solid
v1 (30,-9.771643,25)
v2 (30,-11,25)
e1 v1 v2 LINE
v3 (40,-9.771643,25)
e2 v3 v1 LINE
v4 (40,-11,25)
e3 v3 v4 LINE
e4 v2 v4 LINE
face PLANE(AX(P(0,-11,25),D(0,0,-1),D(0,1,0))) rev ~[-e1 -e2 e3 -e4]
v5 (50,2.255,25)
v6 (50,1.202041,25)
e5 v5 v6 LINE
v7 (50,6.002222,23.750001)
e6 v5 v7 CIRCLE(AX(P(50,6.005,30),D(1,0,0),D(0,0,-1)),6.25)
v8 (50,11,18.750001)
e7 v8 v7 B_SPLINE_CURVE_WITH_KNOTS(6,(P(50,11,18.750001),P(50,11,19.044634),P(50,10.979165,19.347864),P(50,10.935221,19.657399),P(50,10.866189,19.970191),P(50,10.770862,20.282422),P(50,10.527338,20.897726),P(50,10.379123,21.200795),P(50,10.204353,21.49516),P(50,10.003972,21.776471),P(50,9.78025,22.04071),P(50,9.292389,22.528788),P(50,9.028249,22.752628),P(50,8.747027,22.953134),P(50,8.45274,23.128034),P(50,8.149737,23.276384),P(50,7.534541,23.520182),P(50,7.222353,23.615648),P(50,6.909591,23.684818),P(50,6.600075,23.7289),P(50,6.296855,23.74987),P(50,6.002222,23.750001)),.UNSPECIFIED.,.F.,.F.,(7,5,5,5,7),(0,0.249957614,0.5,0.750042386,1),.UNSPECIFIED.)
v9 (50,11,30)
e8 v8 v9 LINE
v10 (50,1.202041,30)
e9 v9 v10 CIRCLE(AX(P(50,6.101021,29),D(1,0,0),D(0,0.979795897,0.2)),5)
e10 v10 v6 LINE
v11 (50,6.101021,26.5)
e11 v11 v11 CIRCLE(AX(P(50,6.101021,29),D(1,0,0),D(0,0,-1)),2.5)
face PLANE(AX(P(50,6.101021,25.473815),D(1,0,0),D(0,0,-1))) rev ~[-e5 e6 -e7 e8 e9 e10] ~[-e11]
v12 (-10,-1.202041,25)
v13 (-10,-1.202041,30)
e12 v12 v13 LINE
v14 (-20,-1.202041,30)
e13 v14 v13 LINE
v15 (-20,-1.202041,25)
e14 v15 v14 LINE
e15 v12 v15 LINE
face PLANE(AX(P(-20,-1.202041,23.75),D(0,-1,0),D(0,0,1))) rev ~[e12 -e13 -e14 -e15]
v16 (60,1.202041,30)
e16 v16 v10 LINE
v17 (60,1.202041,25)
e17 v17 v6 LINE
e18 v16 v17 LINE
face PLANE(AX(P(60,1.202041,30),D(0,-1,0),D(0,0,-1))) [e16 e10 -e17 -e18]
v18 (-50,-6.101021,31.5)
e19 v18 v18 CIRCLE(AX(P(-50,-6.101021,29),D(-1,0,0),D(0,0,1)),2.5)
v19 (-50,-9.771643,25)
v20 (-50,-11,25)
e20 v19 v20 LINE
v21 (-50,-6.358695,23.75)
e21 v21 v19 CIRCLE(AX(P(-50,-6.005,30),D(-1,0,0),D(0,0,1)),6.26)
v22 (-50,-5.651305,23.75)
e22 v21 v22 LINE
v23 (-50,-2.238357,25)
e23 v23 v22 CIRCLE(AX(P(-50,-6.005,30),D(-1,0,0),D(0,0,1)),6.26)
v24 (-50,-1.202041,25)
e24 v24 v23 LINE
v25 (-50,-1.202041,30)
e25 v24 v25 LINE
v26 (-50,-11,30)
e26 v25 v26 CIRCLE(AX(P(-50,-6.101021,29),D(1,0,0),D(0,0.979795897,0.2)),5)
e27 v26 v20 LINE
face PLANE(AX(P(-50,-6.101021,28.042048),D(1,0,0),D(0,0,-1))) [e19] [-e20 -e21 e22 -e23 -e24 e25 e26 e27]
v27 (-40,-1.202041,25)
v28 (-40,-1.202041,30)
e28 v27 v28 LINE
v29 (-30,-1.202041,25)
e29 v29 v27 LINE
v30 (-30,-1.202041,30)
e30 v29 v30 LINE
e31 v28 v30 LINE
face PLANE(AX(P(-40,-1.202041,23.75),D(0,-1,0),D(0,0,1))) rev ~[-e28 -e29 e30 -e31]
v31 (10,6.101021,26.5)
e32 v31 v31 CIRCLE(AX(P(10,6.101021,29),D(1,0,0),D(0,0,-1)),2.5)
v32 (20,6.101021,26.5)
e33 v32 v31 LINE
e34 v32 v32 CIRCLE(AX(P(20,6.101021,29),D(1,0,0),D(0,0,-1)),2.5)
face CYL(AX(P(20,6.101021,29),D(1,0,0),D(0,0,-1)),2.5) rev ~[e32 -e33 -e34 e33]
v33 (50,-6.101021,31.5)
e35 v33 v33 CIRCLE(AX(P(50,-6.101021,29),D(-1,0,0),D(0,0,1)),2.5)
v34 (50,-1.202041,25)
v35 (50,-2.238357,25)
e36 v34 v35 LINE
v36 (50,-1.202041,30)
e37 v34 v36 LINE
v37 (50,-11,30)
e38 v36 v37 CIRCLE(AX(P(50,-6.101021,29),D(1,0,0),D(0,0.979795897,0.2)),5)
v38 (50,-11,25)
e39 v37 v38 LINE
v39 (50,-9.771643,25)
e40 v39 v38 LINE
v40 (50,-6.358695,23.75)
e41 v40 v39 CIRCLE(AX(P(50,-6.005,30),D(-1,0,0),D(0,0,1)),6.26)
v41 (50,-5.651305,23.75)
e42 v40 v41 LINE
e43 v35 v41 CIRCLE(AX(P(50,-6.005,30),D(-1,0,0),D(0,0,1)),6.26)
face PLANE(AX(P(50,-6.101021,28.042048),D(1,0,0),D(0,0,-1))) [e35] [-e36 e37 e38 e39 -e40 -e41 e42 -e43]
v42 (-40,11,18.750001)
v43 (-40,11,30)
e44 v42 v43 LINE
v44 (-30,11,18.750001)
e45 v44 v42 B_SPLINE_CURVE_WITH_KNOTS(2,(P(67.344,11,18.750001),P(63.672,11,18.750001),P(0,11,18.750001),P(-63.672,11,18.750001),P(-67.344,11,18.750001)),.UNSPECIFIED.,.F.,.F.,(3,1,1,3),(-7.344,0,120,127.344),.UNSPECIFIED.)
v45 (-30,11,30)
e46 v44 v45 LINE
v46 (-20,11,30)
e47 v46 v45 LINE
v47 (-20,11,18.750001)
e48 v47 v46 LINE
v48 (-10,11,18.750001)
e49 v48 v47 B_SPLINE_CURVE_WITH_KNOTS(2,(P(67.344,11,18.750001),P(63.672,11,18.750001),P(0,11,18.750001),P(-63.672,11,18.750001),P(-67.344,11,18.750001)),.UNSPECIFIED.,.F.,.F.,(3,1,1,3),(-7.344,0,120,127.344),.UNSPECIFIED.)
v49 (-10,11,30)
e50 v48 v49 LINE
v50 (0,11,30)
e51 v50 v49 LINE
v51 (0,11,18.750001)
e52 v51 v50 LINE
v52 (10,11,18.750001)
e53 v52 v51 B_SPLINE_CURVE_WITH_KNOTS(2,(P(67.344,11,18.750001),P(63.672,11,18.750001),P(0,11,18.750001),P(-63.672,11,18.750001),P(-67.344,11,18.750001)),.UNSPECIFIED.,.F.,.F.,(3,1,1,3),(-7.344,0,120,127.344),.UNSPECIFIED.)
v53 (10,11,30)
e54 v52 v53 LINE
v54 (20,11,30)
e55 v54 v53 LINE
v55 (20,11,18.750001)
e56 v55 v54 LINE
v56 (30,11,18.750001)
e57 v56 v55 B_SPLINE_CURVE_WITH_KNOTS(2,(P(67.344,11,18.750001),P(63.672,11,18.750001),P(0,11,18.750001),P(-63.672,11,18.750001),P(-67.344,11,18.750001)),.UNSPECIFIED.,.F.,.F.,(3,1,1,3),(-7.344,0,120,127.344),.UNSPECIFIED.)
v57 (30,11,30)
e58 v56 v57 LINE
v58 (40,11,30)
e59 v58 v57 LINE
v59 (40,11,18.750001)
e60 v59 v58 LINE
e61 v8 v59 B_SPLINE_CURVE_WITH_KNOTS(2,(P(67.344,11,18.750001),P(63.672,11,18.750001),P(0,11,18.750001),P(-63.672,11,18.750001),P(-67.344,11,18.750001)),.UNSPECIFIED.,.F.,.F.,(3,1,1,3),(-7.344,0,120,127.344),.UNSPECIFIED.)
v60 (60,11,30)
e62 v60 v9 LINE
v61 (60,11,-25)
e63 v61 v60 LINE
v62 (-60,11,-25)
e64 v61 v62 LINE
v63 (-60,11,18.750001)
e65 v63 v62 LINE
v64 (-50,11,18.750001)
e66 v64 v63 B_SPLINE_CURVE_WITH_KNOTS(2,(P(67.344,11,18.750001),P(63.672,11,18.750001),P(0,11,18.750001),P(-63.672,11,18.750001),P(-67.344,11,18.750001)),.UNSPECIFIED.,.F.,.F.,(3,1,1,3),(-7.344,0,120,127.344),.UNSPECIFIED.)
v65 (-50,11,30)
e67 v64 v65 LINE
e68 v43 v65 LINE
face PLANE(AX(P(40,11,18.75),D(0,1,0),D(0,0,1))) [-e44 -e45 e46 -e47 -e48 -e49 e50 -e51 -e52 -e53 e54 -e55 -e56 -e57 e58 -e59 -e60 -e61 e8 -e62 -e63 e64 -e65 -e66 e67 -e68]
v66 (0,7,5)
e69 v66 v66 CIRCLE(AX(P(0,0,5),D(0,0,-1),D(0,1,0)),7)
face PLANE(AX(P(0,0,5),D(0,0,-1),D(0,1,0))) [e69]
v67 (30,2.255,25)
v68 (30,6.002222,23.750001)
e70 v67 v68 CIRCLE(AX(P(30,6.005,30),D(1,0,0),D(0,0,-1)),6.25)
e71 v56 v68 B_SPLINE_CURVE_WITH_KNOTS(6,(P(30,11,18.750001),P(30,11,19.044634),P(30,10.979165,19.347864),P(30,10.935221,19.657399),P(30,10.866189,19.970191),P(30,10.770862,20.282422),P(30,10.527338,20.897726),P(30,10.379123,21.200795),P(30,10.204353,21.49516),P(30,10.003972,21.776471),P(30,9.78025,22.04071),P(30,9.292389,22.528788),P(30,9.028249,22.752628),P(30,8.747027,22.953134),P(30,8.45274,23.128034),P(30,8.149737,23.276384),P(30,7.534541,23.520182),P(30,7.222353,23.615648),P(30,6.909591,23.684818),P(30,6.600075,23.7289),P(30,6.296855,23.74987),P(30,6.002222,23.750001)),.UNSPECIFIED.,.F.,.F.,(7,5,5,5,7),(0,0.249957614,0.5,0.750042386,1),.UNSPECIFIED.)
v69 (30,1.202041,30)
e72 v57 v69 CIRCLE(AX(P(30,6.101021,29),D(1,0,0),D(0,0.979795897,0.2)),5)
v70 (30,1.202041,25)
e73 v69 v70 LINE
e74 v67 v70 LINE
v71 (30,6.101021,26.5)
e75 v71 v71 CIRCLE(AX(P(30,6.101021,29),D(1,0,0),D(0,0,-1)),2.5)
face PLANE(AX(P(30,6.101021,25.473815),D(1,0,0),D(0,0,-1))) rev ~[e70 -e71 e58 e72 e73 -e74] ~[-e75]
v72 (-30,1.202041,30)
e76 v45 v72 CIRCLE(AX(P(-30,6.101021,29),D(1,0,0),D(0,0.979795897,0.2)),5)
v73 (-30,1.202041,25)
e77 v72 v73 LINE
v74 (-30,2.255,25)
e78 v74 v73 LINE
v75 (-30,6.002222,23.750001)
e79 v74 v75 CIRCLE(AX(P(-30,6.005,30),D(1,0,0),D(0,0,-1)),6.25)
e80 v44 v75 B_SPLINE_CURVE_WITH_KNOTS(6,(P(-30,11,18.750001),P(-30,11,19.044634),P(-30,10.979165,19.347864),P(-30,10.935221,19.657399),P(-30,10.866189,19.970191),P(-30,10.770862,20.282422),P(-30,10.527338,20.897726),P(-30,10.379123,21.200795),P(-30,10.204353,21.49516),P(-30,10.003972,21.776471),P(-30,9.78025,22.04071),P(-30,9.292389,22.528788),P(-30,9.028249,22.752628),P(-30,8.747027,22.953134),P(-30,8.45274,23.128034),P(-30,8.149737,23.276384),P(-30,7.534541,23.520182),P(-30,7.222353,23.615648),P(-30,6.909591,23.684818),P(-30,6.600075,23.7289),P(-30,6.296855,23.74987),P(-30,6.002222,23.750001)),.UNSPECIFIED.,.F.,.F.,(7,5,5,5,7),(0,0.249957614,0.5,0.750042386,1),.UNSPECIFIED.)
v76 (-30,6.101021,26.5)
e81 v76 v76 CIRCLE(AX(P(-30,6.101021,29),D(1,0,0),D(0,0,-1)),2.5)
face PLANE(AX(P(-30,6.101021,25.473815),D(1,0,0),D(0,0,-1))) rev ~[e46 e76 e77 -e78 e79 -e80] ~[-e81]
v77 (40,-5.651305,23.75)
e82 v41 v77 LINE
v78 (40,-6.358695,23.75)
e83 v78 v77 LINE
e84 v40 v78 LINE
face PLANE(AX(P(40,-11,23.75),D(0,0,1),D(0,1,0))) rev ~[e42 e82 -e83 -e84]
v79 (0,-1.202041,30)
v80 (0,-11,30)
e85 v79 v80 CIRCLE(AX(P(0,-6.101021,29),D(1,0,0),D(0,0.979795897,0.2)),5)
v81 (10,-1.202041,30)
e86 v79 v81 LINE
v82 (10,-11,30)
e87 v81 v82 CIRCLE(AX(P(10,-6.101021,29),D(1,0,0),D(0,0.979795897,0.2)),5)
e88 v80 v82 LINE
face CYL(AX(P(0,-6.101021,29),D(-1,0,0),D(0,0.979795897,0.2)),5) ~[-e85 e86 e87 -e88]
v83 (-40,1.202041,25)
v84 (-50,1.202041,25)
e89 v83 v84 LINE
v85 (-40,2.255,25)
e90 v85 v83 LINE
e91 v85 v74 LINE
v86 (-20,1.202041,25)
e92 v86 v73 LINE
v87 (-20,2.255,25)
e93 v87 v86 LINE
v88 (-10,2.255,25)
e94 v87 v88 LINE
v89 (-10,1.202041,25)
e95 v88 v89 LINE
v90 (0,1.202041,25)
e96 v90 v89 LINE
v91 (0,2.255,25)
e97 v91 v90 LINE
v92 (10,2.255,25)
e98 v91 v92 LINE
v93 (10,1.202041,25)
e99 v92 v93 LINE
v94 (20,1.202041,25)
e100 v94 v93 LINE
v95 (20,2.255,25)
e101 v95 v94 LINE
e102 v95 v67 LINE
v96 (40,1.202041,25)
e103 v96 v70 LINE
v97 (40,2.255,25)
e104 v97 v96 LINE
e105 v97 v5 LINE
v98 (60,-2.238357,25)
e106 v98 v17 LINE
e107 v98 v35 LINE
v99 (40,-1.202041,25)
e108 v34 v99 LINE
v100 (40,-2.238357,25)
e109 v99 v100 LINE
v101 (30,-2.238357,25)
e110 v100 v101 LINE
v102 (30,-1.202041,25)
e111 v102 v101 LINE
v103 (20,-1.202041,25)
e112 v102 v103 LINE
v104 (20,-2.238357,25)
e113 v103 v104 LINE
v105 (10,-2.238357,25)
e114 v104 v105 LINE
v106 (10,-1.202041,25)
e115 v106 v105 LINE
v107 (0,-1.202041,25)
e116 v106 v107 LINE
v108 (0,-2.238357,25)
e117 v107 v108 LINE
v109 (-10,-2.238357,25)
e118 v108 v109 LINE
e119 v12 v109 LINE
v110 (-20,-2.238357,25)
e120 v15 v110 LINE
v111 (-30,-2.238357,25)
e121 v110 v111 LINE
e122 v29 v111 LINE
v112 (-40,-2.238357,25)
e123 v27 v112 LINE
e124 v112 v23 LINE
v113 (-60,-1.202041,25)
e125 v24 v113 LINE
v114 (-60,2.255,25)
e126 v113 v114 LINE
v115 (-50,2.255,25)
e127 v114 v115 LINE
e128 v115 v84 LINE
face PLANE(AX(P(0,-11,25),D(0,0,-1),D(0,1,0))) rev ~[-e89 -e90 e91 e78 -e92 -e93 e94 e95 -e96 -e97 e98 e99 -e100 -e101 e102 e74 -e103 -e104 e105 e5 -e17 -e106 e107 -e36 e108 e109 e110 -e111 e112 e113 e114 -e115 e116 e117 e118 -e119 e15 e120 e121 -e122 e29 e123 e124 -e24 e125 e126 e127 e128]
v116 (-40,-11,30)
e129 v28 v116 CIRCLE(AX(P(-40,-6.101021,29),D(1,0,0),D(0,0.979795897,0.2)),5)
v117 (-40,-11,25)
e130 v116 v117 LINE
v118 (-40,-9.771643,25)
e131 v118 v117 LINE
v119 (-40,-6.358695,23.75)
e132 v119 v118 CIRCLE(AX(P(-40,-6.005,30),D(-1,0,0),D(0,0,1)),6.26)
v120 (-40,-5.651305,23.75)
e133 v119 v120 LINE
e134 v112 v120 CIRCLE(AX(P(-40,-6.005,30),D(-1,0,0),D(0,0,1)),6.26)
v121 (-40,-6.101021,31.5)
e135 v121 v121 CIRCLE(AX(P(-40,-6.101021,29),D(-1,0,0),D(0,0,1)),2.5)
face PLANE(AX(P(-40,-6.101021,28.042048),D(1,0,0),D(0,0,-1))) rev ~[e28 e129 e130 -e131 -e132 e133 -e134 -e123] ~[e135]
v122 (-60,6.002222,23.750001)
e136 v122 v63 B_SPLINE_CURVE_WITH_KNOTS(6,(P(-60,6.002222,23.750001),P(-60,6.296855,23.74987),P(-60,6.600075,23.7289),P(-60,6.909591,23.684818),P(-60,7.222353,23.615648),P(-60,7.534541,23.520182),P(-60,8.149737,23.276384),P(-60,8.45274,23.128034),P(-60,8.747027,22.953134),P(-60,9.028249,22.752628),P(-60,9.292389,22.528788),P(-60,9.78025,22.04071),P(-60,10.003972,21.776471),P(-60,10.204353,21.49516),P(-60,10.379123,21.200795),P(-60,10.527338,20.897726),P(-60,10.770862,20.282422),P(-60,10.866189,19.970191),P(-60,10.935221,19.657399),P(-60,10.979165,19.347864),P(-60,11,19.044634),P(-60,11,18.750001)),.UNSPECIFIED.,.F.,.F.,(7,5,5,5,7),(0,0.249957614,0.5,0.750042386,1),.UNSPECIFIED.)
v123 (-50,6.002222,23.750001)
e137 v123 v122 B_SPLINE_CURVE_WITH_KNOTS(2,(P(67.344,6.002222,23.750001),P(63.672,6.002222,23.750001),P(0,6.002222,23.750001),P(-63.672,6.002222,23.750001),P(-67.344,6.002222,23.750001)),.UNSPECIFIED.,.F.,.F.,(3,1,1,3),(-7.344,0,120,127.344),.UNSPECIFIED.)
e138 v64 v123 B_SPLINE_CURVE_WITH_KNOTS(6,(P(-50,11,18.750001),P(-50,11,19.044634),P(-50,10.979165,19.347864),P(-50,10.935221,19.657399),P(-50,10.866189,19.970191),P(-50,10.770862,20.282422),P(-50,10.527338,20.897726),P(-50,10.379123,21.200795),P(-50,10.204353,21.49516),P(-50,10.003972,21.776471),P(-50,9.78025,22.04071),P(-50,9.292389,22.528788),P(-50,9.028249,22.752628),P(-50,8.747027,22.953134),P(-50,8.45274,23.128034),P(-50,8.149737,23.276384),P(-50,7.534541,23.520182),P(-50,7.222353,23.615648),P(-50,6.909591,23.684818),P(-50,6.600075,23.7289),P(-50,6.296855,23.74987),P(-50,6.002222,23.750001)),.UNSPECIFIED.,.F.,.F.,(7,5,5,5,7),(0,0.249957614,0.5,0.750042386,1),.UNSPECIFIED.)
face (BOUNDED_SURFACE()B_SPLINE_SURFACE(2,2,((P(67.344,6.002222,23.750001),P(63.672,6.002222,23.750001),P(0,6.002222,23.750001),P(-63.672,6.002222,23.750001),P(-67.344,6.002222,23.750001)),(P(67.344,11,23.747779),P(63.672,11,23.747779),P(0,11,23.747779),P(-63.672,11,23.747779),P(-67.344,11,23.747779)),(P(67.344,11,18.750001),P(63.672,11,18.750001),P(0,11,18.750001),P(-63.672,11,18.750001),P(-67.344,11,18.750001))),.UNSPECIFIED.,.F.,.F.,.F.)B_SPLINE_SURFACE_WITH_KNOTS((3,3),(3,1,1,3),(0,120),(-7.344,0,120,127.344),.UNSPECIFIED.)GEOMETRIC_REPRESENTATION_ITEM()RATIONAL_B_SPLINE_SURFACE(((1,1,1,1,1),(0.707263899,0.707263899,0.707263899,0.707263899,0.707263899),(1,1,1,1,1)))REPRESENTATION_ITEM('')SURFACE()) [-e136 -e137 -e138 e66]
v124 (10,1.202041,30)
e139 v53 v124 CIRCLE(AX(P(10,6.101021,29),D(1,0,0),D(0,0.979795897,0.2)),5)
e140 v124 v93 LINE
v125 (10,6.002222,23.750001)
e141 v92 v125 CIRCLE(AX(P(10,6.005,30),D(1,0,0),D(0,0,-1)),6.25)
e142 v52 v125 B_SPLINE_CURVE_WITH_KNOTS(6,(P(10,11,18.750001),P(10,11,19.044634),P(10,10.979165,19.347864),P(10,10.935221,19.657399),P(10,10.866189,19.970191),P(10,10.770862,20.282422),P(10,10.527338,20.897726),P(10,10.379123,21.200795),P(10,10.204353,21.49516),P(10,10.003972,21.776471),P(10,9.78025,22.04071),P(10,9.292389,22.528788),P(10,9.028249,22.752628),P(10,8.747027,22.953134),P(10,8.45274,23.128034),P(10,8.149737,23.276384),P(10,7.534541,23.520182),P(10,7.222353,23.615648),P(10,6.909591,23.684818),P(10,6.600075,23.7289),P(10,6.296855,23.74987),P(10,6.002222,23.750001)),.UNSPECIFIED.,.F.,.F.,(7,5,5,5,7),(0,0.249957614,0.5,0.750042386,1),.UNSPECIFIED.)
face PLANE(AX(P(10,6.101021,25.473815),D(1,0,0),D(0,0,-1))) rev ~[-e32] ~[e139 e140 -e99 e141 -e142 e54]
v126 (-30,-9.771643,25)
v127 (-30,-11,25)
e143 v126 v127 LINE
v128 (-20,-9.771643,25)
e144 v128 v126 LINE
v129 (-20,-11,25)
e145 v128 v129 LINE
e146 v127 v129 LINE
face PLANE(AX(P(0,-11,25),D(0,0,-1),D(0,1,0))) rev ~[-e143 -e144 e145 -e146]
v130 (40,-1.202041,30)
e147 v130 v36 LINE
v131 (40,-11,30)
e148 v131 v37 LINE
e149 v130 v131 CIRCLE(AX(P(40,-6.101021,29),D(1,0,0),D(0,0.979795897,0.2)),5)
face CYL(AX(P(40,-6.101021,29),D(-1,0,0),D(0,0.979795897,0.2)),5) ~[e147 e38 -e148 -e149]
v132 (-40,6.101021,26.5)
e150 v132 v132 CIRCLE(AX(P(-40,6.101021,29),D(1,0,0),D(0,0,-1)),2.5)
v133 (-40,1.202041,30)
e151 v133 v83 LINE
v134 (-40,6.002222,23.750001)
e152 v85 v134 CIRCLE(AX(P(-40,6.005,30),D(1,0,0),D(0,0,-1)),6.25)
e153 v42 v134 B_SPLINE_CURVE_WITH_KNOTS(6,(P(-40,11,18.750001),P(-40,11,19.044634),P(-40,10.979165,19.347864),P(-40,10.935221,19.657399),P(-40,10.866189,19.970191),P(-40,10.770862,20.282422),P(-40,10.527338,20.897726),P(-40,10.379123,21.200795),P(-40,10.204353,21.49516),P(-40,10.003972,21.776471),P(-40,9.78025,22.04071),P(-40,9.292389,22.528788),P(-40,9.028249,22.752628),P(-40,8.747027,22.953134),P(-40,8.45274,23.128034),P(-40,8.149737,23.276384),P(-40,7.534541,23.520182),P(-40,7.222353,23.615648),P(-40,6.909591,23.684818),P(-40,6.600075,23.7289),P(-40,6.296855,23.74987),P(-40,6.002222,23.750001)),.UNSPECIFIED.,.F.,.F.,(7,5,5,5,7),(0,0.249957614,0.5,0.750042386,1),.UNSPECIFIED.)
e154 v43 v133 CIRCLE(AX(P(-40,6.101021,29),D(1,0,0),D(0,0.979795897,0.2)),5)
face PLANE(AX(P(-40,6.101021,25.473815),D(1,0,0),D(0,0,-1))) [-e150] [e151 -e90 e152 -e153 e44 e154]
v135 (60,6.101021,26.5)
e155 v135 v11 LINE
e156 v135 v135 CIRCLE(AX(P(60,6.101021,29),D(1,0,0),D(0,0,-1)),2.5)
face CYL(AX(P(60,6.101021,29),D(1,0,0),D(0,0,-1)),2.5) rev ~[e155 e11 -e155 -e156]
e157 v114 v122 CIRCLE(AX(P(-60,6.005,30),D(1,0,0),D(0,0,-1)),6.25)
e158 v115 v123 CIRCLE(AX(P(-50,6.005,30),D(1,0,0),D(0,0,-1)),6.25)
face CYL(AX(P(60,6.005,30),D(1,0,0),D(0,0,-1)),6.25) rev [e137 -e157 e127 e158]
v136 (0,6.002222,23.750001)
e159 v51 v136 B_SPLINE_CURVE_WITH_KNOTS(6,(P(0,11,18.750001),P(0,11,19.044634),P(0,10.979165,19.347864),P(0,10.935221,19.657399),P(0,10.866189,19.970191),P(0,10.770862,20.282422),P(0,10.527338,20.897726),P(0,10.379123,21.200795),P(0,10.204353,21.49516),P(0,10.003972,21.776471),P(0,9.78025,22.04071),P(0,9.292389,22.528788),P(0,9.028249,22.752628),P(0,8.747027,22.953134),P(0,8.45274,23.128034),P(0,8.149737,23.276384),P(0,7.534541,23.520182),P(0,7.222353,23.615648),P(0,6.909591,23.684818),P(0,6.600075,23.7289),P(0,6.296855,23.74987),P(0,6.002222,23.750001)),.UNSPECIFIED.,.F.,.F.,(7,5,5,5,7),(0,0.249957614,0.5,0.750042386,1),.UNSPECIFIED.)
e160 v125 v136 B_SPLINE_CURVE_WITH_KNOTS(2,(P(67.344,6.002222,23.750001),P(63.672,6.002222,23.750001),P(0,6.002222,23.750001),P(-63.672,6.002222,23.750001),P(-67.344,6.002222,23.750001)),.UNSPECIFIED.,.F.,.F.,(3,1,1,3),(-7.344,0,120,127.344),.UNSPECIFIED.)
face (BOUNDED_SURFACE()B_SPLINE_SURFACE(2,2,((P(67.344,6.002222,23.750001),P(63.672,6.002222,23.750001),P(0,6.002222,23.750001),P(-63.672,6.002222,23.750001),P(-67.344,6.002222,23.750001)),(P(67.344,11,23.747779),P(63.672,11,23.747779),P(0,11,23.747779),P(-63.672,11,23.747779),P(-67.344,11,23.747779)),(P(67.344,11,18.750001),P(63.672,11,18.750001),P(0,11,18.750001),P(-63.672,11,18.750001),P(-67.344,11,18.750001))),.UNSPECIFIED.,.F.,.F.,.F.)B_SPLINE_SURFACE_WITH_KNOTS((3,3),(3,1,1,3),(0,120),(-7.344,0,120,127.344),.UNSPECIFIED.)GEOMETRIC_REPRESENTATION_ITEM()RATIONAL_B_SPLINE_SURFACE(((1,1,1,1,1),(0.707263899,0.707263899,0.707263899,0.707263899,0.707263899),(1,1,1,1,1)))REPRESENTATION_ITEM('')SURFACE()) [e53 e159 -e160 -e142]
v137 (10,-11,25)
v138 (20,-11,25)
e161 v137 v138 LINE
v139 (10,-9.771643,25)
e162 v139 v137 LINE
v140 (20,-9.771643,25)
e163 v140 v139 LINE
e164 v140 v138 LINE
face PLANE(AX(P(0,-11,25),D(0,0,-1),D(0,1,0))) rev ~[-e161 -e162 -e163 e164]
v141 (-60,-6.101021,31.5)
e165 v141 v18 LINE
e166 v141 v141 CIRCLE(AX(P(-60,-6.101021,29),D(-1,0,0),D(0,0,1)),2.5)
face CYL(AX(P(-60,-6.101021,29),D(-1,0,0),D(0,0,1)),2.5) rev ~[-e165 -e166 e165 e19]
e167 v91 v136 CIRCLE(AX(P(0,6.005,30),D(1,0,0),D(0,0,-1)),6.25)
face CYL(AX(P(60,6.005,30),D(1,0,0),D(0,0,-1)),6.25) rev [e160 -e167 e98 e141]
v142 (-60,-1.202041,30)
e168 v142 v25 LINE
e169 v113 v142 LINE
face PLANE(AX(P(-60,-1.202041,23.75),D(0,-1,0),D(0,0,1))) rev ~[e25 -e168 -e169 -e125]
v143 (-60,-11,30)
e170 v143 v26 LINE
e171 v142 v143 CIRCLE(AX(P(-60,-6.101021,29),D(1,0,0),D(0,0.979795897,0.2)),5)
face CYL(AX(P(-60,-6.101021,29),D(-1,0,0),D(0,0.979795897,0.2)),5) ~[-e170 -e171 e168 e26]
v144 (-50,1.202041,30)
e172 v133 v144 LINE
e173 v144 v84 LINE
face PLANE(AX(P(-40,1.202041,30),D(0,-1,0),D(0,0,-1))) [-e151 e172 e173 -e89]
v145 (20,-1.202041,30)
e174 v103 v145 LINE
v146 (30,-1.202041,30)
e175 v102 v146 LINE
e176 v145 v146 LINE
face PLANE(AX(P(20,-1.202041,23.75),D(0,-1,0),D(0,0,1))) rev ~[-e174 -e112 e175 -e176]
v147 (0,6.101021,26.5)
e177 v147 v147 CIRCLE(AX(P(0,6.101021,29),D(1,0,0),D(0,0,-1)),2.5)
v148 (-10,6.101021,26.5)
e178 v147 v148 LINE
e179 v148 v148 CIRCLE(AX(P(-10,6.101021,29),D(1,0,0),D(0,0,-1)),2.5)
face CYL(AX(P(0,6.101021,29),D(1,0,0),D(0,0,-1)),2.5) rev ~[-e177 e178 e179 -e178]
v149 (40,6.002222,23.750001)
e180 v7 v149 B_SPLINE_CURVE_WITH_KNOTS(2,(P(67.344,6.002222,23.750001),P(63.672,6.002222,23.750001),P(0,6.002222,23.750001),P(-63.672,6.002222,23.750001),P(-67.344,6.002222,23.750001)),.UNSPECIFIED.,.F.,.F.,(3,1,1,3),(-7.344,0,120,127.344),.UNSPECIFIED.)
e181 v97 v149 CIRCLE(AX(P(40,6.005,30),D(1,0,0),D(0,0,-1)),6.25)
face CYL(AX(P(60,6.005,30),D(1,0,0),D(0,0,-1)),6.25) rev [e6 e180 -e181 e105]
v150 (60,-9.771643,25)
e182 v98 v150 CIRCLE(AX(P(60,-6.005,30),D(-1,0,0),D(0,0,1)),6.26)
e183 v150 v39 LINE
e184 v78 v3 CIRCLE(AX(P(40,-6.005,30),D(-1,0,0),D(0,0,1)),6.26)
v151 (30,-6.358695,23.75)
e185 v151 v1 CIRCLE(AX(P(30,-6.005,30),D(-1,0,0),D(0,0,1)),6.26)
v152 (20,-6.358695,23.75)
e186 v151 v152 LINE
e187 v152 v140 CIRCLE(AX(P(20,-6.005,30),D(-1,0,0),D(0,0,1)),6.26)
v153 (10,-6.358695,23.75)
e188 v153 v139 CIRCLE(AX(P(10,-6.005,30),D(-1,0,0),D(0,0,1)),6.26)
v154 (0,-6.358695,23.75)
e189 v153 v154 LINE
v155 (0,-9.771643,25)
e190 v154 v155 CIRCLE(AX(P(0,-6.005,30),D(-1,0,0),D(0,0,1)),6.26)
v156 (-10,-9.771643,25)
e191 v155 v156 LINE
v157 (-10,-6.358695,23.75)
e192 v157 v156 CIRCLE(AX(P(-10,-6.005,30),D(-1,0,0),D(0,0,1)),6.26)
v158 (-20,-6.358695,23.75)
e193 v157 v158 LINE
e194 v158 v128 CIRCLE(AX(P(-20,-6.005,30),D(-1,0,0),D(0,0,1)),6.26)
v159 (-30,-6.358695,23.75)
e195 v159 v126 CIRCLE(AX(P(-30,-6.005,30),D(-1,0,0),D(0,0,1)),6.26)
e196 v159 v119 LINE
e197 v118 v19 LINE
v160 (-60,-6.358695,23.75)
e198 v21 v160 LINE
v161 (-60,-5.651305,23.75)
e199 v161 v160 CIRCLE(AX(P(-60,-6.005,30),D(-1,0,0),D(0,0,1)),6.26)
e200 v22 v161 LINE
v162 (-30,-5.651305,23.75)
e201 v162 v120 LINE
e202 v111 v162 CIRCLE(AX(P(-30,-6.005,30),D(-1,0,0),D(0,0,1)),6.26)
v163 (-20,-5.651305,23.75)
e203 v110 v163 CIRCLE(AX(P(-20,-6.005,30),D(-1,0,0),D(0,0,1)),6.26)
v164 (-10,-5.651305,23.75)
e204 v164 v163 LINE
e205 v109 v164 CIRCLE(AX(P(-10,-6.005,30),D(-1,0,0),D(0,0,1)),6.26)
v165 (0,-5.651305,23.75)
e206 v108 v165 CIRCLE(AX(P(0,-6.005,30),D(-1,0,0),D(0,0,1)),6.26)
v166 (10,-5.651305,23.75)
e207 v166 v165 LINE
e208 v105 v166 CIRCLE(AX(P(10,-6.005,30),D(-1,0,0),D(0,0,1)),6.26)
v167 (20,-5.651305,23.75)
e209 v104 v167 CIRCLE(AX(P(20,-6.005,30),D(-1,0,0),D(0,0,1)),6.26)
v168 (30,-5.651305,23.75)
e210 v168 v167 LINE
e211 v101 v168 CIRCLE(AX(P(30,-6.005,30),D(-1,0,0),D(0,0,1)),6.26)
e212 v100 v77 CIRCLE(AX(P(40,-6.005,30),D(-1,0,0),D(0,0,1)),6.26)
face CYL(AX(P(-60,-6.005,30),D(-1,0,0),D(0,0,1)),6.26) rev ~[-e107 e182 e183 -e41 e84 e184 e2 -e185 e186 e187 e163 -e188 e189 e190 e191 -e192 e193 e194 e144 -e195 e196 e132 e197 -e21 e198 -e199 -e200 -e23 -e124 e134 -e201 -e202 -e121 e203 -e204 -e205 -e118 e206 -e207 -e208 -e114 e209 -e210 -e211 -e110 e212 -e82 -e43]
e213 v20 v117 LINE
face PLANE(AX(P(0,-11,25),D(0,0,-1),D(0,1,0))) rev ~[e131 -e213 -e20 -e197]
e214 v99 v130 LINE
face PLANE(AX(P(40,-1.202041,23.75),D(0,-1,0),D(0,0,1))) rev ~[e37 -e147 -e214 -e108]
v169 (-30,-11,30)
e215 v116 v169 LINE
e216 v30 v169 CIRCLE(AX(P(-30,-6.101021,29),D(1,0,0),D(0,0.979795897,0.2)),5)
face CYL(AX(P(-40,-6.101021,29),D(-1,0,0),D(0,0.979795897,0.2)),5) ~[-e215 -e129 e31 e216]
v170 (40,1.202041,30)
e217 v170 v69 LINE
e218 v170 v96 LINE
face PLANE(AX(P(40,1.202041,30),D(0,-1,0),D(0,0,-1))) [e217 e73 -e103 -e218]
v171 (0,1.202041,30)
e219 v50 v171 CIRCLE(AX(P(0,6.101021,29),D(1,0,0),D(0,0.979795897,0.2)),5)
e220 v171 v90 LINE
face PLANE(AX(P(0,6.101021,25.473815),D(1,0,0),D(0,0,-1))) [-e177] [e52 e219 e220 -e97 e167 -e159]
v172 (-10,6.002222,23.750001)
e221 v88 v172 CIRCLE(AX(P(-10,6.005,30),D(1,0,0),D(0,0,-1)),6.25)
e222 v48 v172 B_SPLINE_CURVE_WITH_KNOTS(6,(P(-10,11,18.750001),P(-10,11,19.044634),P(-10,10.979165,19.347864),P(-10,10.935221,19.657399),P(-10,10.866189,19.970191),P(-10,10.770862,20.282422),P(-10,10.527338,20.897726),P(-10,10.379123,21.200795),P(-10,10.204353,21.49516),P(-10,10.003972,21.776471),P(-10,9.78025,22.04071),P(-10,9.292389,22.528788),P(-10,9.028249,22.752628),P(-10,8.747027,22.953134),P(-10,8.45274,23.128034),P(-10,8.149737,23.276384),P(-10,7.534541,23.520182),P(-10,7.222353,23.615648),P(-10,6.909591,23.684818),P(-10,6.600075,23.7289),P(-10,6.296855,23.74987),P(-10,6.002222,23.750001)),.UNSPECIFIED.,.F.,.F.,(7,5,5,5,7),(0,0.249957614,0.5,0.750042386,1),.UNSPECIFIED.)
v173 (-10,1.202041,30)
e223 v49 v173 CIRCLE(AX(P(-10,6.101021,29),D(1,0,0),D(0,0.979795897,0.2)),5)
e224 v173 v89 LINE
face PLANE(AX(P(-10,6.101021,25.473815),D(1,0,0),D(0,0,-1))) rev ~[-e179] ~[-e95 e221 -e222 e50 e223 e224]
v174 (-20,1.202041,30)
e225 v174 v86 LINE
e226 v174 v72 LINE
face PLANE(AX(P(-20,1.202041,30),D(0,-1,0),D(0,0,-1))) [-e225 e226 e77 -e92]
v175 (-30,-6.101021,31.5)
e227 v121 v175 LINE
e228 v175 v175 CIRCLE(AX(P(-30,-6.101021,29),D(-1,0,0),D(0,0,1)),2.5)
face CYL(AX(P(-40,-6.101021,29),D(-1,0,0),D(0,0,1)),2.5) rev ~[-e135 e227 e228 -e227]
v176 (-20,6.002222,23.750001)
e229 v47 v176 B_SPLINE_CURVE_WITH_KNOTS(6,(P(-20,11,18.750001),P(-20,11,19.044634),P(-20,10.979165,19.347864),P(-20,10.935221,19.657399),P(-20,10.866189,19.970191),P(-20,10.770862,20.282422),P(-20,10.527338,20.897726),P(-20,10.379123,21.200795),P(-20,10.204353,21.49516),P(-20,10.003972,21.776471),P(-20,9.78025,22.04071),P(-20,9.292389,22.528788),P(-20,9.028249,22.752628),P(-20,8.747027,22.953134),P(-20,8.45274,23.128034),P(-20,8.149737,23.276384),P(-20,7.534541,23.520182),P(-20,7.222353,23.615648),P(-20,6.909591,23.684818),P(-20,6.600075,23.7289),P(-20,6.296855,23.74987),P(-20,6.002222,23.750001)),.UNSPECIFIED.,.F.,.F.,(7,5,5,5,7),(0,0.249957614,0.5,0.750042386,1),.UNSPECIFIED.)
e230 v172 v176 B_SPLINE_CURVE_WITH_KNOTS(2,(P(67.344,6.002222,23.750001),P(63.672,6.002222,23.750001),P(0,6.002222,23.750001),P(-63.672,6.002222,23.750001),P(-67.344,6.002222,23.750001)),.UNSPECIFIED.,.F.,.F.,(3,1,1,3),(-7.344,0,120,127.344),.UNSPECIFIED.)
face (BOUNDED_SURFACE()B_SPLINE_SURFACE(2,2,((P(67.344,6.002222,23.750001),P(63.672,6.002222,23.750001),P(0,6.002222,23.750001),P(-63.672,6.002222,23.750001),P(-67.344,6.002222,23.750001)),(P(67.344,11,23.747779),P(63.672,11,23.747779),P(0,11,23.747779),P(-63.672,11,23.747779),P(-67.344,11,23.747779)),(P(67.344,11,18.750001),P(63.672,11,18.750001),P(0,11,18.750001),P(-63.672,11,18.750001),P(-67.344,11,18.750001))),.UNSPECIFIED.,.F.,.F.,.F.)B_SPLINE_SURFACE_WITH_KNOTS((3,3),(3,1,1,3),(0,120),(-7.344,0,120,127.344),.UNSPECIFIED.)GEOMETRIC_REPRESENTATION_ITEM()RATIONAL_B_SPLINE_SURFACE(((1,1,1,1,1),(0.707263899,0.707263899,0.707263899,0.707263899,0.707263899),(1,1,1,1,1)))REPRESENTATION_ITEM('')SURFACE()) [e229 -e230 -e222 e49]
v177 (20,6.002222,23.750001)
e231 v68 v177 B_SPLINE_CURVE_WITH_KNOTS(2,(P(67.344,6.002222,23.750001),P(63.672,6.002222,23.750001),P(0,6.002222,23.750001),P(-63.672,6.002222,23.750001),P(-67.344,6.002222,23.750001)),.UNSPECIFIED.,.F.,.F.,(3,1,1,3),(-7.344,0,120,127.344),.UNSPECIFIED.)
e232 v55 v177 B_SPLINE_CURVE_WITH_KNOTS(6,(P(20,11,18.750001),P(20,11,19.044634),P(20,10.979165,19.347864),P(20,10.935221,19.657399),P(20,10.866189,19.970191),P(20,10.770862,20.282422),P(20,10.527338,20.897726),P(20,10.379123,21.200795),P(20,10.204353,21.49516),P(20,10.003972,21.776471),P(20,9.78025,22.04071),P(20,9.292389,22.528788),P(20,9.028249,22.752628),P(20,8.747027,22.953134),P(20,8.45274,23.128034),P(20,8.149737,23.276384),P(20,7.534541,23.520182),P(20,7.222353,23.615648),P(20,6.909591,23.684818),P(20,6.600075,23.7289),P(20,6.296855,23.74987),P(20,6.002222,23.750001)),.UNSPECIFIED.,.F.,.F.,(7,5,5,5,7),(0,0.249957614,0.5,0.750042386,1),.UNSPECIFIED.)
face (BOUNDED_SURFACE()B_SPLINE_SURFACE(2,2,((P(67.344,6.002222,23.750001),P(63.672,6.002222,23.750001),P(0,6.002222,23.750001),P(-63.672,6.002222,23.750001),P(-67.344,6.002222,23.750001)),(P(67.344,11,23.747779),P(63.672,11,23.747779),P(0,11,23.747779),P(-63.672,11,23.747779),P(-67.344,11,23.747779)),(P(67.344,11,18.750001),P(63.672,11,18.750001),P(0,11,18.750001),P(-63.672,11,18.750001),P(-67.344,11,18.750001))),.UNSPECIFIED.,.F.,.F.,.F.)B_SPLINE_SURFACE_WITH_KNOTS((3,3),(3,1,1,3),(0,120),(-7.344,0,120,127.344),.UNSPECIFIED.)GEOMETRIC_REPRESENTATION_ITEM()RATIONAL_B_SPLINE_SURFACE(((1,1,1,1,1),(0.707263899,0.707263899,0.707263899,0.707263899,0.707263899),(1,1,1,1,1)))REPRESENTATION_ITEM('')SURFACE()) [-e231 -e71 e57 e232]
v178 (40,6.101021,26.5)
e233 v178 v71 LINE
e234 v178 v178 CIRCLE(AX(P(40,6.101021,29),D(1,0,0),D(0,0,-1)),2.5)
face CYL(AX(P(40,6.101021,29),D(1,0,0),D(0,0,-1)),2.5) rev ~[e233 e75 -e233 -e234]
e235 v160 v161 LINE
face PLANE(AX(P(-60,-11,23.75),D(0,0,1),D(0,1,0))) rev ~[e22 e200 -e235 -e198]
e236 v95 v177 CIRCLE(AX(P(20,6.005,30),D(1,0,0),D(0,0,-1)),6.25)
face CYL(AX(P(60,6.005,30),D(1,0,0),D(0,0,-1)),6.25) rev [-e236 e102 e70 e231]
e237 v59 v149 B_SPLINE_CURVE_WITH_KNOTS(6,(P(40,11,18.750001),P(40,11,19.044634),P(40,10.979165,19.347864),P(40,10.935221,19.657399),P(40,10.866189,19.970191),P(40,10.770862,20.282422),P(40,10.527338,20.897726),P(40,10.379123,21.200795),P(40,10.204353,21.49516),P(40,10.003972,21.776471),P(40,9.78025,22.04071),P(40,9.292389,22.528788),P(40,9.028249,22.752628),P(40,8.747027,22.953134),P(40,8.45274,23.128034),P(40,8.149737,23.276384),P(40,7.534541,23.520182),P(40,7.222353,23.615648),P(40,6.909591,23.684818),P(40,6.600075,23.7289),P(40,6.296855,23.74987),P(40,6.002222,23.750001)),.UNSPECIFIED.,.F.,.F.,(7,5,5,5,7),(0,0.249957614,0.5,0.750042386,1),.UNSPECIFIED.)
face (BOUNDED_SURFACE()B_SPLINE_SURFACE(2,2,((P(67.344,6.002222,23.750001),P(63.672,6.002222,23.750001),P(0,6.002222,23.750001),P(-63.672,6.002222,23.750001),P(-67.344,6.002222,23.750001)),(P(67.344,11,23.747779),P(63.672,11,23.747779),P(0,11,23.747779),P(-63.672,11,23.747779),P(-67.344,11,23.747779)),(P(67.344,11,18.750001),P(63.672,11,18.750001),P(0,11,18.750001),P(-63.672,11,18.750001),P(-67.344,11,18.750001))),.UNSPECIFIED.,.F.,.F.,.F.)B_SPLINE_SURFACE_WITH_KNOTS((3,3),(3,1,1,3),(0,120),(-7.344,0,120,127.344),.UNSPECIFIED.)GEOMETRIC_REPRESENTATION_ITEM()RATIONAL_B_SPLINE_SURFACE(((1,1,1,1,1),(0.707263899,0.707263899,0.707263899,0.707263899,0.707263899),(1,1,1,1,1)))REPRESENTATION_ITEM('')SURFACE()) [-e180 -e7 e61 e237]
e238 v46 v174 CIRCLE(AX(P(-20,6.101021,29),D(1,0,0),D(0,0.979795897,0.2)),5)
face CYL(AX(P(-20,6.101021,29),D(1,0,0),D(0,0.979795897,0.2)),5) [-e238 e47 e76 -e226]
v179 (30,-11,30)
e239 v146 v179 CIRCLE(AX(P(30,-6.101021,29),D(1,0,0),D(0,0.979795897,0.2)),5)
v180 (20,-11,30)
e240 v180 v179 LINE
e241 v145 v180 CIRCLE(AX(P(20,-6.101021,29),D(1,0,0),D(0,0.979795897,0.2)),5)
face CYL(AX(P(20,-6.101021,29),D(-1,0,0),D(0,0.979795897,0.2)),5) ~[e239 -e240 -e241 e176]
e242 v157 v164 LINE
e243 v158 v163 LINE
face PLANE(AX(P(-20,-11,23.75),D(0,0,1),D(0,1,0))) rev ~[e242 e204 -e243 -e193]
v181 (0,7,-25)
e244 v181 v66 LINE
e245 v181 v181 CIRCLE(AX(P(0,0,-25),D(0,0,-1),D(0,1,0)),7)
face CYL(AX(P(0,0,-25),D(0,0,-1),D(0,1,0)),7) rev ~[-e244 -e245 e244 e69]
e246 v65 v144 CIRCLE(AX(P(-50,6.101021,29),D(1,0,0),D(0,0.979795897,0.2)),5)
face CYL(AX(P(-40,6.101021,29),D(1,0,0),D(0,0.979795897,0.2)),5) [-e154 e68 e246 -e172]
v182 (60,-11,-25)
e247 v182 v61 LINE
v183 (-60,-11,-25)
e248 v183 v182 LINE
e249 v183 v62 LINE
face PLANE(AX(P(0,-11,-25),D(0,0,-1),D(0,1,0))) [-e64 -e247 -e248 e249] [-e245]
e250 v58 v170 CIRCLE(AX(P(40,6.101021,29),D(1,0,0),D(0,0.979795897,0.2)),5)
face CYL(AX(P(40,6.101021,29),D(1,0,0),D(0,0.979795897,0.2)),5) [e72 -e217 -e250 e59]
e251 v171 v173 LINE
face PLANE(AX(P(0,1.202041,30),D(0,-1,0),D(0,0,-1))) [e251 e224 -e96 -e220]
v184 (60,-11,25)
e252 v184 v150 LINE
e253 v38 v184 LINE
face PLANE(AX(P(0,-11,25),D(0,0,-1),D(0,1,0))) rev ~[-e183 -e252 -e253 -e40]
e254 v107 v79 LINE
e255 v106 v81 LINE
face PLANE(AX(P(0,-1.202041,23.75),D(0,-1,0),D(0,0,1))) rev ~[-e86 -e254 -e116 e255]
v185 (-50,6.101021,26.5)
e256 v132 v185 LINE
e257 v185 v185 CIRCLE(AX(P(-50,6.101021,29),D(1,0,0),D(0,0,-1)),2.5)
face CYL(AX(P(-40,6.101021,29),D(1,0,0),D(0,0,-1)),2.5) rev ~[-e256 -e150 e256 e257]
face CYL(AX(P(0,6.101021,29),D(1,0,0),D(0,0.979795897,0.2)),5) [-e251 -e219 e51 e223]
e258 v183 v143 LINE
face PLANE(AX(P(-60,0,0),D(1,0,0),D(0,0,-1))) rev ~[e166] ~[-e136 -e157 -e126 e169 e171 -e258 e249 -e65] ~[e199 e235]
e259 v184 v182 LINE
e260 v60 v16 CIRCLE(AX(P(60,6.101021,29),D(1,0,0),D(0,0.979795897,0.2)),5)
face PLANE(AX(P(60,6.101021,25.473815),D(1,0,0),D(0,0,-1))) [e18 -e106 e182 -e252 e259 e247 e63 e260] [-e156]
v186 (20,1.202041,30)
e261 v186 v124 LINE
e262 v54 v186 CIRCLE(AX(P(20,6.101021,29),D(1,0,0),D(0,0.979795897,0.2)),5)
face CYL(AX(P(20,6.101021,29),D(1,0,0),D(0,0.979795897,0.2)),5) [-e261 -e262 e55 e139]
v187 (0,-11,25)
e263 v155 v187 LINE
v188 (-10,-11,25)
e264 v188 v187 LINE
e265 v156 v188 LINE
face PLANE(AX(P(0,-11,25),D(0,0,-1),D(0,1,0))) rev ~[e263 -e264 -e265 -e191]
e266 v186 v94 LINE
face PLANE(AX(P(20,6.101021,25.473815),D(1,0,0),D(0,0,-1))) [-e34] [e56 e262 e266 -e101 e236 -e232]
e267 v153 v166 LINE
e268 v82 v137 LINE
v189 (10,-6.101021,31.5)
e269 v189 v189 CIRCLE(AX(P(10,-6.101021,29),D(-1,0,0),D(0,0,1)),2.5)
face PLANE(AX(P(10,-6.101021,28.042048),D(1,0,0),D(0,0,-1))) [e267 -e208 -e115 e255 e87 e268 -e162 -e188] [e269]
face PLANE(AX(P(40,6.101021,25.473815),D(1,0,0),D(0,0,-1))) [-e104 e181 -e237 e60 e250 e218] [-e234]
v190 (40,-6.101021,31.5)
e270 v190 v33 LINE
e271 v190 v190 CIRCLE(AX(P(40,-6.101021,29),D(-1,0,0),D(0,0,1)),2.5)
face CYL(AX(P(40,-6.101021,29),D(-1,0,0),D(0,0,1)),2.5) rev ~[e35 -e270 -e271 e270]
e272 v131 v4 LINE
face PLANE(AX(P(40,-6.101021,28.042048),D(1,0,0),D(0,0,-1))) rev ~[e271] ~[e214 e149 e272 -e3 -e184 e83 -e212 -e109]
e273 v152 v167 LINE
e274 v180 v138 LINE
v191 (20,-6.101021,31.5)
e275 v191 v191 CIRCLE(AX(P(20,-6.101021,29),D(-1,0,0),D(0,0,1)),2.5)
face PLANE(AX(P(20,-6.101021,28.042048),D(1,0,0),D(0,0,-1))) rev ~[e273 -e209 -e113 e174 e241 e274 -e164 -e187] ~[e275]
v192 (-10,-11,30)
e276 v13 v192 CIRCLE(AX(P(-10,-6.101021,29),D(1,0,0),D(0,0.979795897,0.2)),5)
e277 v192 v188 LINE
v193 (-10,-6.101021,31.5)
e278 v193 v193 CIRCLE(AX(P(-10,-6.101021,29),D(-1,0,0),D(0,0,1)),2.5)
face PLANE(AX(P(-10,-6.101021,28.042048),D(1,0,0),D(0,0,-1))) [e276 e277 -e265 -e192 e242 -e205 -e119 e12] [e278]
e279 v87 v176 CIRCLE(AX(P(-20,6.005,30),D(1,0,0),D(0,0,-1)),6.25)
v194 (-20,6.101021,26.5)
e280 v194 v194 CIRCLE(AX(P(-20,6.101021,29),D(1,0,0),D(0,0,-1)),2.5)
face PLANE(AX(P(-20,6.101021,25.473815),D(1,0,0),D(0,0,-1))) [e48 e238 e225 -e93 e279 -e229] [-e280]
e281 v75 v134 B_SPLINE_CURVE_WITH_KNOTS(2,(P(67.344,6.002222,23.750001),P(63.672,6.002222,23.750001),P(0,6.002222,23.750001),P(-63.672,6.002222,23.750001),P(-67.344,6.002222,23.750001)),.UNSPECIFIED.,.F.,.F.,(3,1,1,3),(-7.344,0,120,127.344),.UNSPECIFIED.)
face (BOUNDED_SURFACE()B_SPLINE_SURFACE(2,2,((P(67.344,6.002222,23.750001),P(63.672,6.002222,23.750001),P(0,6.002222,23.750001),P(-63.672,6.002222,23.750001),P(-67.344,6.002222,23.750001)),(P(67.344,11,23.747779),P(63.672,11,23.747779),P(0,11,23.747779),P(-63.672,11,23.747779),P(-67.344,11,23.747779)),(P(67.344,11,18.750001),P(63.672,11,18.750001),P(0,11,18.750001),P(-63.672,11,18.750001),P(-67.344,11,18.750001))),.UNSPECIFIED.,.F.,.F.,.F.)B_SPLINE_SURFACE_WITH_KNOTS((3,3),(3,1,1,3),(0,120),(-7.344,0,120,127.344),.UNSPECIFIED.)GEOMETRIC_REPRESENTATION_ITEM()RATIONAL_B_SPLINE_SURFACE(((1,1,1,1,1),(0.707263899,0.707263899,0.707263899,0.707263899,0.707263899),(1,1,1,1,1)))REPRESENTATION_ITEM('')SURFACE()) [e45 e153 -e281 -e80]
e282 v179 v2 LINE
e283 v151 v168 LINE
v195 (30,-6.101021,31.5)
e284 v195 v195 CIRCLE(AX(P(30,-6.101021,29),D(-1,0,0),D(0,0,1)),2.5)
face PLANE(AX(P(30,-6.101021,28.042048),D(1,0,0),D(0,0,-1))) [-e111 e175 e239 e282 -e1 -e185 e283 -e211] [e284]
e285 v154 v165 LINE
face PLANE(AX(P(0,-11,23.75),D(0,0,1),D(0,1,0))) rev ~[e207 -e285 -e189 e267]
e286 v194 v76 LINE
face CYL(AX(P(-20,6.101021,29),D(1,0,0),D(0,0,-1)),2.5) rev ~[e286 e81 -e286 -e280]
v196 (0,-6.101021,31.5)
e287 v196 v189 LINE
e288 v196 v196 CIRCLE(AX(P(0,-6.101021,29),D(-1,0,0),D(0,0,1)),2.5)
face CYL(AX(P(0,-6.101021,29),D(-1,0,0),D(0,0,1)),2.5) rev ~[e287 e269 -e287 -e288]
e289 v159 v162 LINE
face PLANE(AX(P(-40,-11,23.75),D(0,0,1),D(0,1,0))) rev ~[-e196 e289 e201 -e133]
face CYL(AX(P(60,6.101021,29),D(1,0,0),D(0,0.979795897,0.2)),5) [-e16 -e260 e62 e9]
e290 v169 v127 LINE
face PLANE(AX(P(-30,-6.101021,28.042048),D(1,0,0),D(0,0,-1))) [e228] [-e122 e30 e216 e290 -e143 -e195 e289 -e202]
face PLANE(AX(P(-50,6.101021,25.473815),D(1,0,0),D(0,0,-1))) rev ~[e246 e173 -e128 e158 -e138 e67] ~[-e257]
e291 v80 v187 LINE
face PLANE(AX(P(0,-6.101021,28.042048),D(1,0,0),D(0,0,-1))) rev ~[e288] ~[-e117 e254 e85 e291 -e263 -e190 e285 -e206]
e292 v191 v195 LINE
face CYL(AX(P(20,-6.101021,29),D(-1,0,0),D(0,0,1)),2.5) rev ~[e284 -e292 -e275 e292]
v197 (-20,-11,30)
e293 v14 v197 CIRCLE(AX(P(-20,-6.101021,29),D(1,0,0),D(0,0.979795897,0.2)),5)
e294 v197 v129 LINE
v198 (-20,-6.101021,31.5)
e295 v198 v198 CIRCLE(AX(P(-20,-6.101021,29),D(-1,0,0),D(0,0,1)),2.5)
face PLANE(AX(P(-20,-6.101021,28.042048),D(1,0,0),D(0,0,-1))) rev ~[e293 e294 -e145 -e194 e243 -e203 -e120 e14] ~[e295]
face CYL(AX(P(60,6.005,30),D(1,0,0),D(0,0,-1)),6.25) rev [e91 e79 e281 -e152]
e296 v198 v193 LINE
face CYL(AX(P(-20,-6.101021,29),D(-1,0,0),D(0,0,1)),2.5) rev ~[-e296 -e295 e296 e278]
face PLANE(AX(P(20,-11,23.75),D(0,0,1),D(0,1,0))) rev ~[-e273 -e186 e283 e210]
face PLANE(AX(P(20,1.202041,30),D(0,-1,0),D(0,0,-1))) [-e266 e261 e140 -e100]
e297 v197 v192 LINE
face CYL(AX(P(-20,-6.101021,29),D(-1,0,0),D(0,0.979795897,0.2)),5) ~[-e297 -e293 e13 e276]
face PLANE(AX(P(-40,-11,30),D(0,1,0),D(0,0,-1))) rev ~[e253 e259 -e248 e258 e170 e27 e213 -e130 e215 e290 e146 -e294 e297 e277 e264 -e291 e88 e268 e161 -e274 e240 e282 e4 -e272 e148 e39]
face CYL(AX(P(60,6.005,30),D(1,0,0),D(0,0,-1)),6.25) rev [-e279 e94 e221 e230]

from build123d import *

# Parameters (mm, degrees)
SKETCH1_W           = 50
SKETCH1_H           = 22
BOSS_EXTRUDE1_DEPTH = 60
CUT_EXTRUDE2_REACH  = 125.069
CUT_EXTRUDE3_REACH  = 125.069
SKETCH6_R           = 6.26
FILLET1_R           = 5
SKETCH2_R           = 2.5
BOSS_EXTRUDE2_DEPTH = 10
LPATTERN1_COUNT     = 6
LPATTERN1_PITCH     = 20
SKETCH3_R           = 2.5
BOSS_EXTRUDE3_DEPTH = 10
LPATTERN2_COUNT     = 6
LPATTERN2_PITCH     = 20
SKETCH4_R           = 7
CUT_EXTRUDE1_DEPTH  = 30


with BuildPart() as part:
    # Sketch1 → Boss-Extrude1 (new, symmetric)
    with BuildSketch(Plane(origin=(0, 0, 0), x_dir=(0, 0, -1), z_dir=(1, 0, 0))):
        Rectangle(SKETCH1_W, SKETCH1_H)
    extrude(amount=BOSS_EXTRUDE1_DEPTH, both=True)

    # Sketch5 → Cut-Extrude2 (cut, up to next)
    with BuildSketch(Plane(origin=(60, 0, 0), x_dir=(0, 0, -1), z_dir=(1, 0, 0)), mode=Mode.PRIVATE) as cut_extrude2_sk1:
        with BuildLine():
            Line((-26.243342576, 11), (-23.75, 11))
            Line((-23.75, 11), (-23.75, 6.005))
            ThreePointArc((-23.75, 6.005), (-35.592030441, 3.213639122), (-26.243342576, 11))
        make_face()
    cut_extrude2_tool1 = extrude(cut_extrude2_sk1.sketch, amount=-CUT_EXTRUDE2_REACH, mode=Mode.PRIVATE) & part.part
    add(cut_extrude2_tool1.solids().sort_by_distance((60, 6.117758, 29.835764))[0], mode=Mode.SUBTRACT)

    # Sketch6 → Cut-Extrude3 (cut, up to next)
    with BuildSketch(Plane.ZY.offset(60), mode=Mode.PRIVATE) as cut_extrude3_sk1:
        with Locations((30, -6.005)):
            Circle(SKETCH6_R)
    cut_extrude3_tool1 = extrude(cut_extrude3_sk1.sketch, amount=-CUT_EXTRUDE3_REACH, mode=Mode.PRIVATE) & part.part
    add(cut_extrude3_tool1.solids().sort_by_distance((-60, -6.005, 30))[0], mode=Mode.SUBTRACT)

    # Fillet1
    fillet1_edges = [part.edges().sort_by_distance(p)[0] for p in [
        (0, 11, 23.75),
    ]]
    fillet(fillet1_edges, radius=FILLET1_R)

    # Sketch2 → Boss-Extrude2 (add)
    with BuildSketch(Plane(origin=(60, 0, 0), x_dir=(0, 0, -1), z_dir=(1, 0, 0))):
        with BuildLine():
            Line((-30, 1.202041029), (-18.75, 1.202041029))
            Line((-18.75, 1.202041029), (-18.75, 11))
            Line((-18.75, 11), (-30, 11))
            ThreePointArc((-30, 11), (-34, 6.101020514), (-30, 1.202041029))
        make_face()
        with Locations((-29, 6.101020514)):
            Circle(SKETCH2_R, mode=Mode.SUBTRACT)
    boss_extrude2 = extrude(amount=-BOSS_EXTRUDE2_DEPTH)

    # LPattern1: Boss-Extrude2 ×6
    with Locations(*[(-i * LPATTERN1_PITCH, 0, 0) for i in range(1, LPATTERN1_COUNT)]):
        add(boss_extrude2)

    # Sketch3 → Boss-Extrude3 (add)
    with BuildSketch(Plane.ZY.offset(60)):
        with BuildLine():
            Line((30, -1.202041029), (23.75, -1.202041029))
            Line((23.75, -1.202041029), (23.75, -11))
            Line((23.75, -11), (30, -11))
            ThreePointArc((30, -11), (34, -6.101020514), (30, -1.202041029))
        make_face()
        with Locations((29, -6.101020514)):
            Circle(SKETCH3_R, mode=Mode.SUBTRACT)
    boss_extrude3 = extrude(amount=-BOSS_EXTRUDE3_DEPTH)

    # LPattern2: Boss-Extrude3 ×6
    with Locations(*[(i * LPATTERN2_PITCH, 0, 0) for i in range(1, LPATTERN2_COUNT)]):
        add(boss_extrude3)

    # Sketch4 → Cut-Extrude1 (cut)
    with BuildSketch(Plane(origin=(0, 0, -25), x_dir=(-1, 0, 0), z_dir=(0, 0, -1))):
        Circle(SKETCH4_R)
    extrude(amount=-CUT_EXTRUDE1_DEPTH, mode=Mode.SUBTRACT)


solid = part.part
